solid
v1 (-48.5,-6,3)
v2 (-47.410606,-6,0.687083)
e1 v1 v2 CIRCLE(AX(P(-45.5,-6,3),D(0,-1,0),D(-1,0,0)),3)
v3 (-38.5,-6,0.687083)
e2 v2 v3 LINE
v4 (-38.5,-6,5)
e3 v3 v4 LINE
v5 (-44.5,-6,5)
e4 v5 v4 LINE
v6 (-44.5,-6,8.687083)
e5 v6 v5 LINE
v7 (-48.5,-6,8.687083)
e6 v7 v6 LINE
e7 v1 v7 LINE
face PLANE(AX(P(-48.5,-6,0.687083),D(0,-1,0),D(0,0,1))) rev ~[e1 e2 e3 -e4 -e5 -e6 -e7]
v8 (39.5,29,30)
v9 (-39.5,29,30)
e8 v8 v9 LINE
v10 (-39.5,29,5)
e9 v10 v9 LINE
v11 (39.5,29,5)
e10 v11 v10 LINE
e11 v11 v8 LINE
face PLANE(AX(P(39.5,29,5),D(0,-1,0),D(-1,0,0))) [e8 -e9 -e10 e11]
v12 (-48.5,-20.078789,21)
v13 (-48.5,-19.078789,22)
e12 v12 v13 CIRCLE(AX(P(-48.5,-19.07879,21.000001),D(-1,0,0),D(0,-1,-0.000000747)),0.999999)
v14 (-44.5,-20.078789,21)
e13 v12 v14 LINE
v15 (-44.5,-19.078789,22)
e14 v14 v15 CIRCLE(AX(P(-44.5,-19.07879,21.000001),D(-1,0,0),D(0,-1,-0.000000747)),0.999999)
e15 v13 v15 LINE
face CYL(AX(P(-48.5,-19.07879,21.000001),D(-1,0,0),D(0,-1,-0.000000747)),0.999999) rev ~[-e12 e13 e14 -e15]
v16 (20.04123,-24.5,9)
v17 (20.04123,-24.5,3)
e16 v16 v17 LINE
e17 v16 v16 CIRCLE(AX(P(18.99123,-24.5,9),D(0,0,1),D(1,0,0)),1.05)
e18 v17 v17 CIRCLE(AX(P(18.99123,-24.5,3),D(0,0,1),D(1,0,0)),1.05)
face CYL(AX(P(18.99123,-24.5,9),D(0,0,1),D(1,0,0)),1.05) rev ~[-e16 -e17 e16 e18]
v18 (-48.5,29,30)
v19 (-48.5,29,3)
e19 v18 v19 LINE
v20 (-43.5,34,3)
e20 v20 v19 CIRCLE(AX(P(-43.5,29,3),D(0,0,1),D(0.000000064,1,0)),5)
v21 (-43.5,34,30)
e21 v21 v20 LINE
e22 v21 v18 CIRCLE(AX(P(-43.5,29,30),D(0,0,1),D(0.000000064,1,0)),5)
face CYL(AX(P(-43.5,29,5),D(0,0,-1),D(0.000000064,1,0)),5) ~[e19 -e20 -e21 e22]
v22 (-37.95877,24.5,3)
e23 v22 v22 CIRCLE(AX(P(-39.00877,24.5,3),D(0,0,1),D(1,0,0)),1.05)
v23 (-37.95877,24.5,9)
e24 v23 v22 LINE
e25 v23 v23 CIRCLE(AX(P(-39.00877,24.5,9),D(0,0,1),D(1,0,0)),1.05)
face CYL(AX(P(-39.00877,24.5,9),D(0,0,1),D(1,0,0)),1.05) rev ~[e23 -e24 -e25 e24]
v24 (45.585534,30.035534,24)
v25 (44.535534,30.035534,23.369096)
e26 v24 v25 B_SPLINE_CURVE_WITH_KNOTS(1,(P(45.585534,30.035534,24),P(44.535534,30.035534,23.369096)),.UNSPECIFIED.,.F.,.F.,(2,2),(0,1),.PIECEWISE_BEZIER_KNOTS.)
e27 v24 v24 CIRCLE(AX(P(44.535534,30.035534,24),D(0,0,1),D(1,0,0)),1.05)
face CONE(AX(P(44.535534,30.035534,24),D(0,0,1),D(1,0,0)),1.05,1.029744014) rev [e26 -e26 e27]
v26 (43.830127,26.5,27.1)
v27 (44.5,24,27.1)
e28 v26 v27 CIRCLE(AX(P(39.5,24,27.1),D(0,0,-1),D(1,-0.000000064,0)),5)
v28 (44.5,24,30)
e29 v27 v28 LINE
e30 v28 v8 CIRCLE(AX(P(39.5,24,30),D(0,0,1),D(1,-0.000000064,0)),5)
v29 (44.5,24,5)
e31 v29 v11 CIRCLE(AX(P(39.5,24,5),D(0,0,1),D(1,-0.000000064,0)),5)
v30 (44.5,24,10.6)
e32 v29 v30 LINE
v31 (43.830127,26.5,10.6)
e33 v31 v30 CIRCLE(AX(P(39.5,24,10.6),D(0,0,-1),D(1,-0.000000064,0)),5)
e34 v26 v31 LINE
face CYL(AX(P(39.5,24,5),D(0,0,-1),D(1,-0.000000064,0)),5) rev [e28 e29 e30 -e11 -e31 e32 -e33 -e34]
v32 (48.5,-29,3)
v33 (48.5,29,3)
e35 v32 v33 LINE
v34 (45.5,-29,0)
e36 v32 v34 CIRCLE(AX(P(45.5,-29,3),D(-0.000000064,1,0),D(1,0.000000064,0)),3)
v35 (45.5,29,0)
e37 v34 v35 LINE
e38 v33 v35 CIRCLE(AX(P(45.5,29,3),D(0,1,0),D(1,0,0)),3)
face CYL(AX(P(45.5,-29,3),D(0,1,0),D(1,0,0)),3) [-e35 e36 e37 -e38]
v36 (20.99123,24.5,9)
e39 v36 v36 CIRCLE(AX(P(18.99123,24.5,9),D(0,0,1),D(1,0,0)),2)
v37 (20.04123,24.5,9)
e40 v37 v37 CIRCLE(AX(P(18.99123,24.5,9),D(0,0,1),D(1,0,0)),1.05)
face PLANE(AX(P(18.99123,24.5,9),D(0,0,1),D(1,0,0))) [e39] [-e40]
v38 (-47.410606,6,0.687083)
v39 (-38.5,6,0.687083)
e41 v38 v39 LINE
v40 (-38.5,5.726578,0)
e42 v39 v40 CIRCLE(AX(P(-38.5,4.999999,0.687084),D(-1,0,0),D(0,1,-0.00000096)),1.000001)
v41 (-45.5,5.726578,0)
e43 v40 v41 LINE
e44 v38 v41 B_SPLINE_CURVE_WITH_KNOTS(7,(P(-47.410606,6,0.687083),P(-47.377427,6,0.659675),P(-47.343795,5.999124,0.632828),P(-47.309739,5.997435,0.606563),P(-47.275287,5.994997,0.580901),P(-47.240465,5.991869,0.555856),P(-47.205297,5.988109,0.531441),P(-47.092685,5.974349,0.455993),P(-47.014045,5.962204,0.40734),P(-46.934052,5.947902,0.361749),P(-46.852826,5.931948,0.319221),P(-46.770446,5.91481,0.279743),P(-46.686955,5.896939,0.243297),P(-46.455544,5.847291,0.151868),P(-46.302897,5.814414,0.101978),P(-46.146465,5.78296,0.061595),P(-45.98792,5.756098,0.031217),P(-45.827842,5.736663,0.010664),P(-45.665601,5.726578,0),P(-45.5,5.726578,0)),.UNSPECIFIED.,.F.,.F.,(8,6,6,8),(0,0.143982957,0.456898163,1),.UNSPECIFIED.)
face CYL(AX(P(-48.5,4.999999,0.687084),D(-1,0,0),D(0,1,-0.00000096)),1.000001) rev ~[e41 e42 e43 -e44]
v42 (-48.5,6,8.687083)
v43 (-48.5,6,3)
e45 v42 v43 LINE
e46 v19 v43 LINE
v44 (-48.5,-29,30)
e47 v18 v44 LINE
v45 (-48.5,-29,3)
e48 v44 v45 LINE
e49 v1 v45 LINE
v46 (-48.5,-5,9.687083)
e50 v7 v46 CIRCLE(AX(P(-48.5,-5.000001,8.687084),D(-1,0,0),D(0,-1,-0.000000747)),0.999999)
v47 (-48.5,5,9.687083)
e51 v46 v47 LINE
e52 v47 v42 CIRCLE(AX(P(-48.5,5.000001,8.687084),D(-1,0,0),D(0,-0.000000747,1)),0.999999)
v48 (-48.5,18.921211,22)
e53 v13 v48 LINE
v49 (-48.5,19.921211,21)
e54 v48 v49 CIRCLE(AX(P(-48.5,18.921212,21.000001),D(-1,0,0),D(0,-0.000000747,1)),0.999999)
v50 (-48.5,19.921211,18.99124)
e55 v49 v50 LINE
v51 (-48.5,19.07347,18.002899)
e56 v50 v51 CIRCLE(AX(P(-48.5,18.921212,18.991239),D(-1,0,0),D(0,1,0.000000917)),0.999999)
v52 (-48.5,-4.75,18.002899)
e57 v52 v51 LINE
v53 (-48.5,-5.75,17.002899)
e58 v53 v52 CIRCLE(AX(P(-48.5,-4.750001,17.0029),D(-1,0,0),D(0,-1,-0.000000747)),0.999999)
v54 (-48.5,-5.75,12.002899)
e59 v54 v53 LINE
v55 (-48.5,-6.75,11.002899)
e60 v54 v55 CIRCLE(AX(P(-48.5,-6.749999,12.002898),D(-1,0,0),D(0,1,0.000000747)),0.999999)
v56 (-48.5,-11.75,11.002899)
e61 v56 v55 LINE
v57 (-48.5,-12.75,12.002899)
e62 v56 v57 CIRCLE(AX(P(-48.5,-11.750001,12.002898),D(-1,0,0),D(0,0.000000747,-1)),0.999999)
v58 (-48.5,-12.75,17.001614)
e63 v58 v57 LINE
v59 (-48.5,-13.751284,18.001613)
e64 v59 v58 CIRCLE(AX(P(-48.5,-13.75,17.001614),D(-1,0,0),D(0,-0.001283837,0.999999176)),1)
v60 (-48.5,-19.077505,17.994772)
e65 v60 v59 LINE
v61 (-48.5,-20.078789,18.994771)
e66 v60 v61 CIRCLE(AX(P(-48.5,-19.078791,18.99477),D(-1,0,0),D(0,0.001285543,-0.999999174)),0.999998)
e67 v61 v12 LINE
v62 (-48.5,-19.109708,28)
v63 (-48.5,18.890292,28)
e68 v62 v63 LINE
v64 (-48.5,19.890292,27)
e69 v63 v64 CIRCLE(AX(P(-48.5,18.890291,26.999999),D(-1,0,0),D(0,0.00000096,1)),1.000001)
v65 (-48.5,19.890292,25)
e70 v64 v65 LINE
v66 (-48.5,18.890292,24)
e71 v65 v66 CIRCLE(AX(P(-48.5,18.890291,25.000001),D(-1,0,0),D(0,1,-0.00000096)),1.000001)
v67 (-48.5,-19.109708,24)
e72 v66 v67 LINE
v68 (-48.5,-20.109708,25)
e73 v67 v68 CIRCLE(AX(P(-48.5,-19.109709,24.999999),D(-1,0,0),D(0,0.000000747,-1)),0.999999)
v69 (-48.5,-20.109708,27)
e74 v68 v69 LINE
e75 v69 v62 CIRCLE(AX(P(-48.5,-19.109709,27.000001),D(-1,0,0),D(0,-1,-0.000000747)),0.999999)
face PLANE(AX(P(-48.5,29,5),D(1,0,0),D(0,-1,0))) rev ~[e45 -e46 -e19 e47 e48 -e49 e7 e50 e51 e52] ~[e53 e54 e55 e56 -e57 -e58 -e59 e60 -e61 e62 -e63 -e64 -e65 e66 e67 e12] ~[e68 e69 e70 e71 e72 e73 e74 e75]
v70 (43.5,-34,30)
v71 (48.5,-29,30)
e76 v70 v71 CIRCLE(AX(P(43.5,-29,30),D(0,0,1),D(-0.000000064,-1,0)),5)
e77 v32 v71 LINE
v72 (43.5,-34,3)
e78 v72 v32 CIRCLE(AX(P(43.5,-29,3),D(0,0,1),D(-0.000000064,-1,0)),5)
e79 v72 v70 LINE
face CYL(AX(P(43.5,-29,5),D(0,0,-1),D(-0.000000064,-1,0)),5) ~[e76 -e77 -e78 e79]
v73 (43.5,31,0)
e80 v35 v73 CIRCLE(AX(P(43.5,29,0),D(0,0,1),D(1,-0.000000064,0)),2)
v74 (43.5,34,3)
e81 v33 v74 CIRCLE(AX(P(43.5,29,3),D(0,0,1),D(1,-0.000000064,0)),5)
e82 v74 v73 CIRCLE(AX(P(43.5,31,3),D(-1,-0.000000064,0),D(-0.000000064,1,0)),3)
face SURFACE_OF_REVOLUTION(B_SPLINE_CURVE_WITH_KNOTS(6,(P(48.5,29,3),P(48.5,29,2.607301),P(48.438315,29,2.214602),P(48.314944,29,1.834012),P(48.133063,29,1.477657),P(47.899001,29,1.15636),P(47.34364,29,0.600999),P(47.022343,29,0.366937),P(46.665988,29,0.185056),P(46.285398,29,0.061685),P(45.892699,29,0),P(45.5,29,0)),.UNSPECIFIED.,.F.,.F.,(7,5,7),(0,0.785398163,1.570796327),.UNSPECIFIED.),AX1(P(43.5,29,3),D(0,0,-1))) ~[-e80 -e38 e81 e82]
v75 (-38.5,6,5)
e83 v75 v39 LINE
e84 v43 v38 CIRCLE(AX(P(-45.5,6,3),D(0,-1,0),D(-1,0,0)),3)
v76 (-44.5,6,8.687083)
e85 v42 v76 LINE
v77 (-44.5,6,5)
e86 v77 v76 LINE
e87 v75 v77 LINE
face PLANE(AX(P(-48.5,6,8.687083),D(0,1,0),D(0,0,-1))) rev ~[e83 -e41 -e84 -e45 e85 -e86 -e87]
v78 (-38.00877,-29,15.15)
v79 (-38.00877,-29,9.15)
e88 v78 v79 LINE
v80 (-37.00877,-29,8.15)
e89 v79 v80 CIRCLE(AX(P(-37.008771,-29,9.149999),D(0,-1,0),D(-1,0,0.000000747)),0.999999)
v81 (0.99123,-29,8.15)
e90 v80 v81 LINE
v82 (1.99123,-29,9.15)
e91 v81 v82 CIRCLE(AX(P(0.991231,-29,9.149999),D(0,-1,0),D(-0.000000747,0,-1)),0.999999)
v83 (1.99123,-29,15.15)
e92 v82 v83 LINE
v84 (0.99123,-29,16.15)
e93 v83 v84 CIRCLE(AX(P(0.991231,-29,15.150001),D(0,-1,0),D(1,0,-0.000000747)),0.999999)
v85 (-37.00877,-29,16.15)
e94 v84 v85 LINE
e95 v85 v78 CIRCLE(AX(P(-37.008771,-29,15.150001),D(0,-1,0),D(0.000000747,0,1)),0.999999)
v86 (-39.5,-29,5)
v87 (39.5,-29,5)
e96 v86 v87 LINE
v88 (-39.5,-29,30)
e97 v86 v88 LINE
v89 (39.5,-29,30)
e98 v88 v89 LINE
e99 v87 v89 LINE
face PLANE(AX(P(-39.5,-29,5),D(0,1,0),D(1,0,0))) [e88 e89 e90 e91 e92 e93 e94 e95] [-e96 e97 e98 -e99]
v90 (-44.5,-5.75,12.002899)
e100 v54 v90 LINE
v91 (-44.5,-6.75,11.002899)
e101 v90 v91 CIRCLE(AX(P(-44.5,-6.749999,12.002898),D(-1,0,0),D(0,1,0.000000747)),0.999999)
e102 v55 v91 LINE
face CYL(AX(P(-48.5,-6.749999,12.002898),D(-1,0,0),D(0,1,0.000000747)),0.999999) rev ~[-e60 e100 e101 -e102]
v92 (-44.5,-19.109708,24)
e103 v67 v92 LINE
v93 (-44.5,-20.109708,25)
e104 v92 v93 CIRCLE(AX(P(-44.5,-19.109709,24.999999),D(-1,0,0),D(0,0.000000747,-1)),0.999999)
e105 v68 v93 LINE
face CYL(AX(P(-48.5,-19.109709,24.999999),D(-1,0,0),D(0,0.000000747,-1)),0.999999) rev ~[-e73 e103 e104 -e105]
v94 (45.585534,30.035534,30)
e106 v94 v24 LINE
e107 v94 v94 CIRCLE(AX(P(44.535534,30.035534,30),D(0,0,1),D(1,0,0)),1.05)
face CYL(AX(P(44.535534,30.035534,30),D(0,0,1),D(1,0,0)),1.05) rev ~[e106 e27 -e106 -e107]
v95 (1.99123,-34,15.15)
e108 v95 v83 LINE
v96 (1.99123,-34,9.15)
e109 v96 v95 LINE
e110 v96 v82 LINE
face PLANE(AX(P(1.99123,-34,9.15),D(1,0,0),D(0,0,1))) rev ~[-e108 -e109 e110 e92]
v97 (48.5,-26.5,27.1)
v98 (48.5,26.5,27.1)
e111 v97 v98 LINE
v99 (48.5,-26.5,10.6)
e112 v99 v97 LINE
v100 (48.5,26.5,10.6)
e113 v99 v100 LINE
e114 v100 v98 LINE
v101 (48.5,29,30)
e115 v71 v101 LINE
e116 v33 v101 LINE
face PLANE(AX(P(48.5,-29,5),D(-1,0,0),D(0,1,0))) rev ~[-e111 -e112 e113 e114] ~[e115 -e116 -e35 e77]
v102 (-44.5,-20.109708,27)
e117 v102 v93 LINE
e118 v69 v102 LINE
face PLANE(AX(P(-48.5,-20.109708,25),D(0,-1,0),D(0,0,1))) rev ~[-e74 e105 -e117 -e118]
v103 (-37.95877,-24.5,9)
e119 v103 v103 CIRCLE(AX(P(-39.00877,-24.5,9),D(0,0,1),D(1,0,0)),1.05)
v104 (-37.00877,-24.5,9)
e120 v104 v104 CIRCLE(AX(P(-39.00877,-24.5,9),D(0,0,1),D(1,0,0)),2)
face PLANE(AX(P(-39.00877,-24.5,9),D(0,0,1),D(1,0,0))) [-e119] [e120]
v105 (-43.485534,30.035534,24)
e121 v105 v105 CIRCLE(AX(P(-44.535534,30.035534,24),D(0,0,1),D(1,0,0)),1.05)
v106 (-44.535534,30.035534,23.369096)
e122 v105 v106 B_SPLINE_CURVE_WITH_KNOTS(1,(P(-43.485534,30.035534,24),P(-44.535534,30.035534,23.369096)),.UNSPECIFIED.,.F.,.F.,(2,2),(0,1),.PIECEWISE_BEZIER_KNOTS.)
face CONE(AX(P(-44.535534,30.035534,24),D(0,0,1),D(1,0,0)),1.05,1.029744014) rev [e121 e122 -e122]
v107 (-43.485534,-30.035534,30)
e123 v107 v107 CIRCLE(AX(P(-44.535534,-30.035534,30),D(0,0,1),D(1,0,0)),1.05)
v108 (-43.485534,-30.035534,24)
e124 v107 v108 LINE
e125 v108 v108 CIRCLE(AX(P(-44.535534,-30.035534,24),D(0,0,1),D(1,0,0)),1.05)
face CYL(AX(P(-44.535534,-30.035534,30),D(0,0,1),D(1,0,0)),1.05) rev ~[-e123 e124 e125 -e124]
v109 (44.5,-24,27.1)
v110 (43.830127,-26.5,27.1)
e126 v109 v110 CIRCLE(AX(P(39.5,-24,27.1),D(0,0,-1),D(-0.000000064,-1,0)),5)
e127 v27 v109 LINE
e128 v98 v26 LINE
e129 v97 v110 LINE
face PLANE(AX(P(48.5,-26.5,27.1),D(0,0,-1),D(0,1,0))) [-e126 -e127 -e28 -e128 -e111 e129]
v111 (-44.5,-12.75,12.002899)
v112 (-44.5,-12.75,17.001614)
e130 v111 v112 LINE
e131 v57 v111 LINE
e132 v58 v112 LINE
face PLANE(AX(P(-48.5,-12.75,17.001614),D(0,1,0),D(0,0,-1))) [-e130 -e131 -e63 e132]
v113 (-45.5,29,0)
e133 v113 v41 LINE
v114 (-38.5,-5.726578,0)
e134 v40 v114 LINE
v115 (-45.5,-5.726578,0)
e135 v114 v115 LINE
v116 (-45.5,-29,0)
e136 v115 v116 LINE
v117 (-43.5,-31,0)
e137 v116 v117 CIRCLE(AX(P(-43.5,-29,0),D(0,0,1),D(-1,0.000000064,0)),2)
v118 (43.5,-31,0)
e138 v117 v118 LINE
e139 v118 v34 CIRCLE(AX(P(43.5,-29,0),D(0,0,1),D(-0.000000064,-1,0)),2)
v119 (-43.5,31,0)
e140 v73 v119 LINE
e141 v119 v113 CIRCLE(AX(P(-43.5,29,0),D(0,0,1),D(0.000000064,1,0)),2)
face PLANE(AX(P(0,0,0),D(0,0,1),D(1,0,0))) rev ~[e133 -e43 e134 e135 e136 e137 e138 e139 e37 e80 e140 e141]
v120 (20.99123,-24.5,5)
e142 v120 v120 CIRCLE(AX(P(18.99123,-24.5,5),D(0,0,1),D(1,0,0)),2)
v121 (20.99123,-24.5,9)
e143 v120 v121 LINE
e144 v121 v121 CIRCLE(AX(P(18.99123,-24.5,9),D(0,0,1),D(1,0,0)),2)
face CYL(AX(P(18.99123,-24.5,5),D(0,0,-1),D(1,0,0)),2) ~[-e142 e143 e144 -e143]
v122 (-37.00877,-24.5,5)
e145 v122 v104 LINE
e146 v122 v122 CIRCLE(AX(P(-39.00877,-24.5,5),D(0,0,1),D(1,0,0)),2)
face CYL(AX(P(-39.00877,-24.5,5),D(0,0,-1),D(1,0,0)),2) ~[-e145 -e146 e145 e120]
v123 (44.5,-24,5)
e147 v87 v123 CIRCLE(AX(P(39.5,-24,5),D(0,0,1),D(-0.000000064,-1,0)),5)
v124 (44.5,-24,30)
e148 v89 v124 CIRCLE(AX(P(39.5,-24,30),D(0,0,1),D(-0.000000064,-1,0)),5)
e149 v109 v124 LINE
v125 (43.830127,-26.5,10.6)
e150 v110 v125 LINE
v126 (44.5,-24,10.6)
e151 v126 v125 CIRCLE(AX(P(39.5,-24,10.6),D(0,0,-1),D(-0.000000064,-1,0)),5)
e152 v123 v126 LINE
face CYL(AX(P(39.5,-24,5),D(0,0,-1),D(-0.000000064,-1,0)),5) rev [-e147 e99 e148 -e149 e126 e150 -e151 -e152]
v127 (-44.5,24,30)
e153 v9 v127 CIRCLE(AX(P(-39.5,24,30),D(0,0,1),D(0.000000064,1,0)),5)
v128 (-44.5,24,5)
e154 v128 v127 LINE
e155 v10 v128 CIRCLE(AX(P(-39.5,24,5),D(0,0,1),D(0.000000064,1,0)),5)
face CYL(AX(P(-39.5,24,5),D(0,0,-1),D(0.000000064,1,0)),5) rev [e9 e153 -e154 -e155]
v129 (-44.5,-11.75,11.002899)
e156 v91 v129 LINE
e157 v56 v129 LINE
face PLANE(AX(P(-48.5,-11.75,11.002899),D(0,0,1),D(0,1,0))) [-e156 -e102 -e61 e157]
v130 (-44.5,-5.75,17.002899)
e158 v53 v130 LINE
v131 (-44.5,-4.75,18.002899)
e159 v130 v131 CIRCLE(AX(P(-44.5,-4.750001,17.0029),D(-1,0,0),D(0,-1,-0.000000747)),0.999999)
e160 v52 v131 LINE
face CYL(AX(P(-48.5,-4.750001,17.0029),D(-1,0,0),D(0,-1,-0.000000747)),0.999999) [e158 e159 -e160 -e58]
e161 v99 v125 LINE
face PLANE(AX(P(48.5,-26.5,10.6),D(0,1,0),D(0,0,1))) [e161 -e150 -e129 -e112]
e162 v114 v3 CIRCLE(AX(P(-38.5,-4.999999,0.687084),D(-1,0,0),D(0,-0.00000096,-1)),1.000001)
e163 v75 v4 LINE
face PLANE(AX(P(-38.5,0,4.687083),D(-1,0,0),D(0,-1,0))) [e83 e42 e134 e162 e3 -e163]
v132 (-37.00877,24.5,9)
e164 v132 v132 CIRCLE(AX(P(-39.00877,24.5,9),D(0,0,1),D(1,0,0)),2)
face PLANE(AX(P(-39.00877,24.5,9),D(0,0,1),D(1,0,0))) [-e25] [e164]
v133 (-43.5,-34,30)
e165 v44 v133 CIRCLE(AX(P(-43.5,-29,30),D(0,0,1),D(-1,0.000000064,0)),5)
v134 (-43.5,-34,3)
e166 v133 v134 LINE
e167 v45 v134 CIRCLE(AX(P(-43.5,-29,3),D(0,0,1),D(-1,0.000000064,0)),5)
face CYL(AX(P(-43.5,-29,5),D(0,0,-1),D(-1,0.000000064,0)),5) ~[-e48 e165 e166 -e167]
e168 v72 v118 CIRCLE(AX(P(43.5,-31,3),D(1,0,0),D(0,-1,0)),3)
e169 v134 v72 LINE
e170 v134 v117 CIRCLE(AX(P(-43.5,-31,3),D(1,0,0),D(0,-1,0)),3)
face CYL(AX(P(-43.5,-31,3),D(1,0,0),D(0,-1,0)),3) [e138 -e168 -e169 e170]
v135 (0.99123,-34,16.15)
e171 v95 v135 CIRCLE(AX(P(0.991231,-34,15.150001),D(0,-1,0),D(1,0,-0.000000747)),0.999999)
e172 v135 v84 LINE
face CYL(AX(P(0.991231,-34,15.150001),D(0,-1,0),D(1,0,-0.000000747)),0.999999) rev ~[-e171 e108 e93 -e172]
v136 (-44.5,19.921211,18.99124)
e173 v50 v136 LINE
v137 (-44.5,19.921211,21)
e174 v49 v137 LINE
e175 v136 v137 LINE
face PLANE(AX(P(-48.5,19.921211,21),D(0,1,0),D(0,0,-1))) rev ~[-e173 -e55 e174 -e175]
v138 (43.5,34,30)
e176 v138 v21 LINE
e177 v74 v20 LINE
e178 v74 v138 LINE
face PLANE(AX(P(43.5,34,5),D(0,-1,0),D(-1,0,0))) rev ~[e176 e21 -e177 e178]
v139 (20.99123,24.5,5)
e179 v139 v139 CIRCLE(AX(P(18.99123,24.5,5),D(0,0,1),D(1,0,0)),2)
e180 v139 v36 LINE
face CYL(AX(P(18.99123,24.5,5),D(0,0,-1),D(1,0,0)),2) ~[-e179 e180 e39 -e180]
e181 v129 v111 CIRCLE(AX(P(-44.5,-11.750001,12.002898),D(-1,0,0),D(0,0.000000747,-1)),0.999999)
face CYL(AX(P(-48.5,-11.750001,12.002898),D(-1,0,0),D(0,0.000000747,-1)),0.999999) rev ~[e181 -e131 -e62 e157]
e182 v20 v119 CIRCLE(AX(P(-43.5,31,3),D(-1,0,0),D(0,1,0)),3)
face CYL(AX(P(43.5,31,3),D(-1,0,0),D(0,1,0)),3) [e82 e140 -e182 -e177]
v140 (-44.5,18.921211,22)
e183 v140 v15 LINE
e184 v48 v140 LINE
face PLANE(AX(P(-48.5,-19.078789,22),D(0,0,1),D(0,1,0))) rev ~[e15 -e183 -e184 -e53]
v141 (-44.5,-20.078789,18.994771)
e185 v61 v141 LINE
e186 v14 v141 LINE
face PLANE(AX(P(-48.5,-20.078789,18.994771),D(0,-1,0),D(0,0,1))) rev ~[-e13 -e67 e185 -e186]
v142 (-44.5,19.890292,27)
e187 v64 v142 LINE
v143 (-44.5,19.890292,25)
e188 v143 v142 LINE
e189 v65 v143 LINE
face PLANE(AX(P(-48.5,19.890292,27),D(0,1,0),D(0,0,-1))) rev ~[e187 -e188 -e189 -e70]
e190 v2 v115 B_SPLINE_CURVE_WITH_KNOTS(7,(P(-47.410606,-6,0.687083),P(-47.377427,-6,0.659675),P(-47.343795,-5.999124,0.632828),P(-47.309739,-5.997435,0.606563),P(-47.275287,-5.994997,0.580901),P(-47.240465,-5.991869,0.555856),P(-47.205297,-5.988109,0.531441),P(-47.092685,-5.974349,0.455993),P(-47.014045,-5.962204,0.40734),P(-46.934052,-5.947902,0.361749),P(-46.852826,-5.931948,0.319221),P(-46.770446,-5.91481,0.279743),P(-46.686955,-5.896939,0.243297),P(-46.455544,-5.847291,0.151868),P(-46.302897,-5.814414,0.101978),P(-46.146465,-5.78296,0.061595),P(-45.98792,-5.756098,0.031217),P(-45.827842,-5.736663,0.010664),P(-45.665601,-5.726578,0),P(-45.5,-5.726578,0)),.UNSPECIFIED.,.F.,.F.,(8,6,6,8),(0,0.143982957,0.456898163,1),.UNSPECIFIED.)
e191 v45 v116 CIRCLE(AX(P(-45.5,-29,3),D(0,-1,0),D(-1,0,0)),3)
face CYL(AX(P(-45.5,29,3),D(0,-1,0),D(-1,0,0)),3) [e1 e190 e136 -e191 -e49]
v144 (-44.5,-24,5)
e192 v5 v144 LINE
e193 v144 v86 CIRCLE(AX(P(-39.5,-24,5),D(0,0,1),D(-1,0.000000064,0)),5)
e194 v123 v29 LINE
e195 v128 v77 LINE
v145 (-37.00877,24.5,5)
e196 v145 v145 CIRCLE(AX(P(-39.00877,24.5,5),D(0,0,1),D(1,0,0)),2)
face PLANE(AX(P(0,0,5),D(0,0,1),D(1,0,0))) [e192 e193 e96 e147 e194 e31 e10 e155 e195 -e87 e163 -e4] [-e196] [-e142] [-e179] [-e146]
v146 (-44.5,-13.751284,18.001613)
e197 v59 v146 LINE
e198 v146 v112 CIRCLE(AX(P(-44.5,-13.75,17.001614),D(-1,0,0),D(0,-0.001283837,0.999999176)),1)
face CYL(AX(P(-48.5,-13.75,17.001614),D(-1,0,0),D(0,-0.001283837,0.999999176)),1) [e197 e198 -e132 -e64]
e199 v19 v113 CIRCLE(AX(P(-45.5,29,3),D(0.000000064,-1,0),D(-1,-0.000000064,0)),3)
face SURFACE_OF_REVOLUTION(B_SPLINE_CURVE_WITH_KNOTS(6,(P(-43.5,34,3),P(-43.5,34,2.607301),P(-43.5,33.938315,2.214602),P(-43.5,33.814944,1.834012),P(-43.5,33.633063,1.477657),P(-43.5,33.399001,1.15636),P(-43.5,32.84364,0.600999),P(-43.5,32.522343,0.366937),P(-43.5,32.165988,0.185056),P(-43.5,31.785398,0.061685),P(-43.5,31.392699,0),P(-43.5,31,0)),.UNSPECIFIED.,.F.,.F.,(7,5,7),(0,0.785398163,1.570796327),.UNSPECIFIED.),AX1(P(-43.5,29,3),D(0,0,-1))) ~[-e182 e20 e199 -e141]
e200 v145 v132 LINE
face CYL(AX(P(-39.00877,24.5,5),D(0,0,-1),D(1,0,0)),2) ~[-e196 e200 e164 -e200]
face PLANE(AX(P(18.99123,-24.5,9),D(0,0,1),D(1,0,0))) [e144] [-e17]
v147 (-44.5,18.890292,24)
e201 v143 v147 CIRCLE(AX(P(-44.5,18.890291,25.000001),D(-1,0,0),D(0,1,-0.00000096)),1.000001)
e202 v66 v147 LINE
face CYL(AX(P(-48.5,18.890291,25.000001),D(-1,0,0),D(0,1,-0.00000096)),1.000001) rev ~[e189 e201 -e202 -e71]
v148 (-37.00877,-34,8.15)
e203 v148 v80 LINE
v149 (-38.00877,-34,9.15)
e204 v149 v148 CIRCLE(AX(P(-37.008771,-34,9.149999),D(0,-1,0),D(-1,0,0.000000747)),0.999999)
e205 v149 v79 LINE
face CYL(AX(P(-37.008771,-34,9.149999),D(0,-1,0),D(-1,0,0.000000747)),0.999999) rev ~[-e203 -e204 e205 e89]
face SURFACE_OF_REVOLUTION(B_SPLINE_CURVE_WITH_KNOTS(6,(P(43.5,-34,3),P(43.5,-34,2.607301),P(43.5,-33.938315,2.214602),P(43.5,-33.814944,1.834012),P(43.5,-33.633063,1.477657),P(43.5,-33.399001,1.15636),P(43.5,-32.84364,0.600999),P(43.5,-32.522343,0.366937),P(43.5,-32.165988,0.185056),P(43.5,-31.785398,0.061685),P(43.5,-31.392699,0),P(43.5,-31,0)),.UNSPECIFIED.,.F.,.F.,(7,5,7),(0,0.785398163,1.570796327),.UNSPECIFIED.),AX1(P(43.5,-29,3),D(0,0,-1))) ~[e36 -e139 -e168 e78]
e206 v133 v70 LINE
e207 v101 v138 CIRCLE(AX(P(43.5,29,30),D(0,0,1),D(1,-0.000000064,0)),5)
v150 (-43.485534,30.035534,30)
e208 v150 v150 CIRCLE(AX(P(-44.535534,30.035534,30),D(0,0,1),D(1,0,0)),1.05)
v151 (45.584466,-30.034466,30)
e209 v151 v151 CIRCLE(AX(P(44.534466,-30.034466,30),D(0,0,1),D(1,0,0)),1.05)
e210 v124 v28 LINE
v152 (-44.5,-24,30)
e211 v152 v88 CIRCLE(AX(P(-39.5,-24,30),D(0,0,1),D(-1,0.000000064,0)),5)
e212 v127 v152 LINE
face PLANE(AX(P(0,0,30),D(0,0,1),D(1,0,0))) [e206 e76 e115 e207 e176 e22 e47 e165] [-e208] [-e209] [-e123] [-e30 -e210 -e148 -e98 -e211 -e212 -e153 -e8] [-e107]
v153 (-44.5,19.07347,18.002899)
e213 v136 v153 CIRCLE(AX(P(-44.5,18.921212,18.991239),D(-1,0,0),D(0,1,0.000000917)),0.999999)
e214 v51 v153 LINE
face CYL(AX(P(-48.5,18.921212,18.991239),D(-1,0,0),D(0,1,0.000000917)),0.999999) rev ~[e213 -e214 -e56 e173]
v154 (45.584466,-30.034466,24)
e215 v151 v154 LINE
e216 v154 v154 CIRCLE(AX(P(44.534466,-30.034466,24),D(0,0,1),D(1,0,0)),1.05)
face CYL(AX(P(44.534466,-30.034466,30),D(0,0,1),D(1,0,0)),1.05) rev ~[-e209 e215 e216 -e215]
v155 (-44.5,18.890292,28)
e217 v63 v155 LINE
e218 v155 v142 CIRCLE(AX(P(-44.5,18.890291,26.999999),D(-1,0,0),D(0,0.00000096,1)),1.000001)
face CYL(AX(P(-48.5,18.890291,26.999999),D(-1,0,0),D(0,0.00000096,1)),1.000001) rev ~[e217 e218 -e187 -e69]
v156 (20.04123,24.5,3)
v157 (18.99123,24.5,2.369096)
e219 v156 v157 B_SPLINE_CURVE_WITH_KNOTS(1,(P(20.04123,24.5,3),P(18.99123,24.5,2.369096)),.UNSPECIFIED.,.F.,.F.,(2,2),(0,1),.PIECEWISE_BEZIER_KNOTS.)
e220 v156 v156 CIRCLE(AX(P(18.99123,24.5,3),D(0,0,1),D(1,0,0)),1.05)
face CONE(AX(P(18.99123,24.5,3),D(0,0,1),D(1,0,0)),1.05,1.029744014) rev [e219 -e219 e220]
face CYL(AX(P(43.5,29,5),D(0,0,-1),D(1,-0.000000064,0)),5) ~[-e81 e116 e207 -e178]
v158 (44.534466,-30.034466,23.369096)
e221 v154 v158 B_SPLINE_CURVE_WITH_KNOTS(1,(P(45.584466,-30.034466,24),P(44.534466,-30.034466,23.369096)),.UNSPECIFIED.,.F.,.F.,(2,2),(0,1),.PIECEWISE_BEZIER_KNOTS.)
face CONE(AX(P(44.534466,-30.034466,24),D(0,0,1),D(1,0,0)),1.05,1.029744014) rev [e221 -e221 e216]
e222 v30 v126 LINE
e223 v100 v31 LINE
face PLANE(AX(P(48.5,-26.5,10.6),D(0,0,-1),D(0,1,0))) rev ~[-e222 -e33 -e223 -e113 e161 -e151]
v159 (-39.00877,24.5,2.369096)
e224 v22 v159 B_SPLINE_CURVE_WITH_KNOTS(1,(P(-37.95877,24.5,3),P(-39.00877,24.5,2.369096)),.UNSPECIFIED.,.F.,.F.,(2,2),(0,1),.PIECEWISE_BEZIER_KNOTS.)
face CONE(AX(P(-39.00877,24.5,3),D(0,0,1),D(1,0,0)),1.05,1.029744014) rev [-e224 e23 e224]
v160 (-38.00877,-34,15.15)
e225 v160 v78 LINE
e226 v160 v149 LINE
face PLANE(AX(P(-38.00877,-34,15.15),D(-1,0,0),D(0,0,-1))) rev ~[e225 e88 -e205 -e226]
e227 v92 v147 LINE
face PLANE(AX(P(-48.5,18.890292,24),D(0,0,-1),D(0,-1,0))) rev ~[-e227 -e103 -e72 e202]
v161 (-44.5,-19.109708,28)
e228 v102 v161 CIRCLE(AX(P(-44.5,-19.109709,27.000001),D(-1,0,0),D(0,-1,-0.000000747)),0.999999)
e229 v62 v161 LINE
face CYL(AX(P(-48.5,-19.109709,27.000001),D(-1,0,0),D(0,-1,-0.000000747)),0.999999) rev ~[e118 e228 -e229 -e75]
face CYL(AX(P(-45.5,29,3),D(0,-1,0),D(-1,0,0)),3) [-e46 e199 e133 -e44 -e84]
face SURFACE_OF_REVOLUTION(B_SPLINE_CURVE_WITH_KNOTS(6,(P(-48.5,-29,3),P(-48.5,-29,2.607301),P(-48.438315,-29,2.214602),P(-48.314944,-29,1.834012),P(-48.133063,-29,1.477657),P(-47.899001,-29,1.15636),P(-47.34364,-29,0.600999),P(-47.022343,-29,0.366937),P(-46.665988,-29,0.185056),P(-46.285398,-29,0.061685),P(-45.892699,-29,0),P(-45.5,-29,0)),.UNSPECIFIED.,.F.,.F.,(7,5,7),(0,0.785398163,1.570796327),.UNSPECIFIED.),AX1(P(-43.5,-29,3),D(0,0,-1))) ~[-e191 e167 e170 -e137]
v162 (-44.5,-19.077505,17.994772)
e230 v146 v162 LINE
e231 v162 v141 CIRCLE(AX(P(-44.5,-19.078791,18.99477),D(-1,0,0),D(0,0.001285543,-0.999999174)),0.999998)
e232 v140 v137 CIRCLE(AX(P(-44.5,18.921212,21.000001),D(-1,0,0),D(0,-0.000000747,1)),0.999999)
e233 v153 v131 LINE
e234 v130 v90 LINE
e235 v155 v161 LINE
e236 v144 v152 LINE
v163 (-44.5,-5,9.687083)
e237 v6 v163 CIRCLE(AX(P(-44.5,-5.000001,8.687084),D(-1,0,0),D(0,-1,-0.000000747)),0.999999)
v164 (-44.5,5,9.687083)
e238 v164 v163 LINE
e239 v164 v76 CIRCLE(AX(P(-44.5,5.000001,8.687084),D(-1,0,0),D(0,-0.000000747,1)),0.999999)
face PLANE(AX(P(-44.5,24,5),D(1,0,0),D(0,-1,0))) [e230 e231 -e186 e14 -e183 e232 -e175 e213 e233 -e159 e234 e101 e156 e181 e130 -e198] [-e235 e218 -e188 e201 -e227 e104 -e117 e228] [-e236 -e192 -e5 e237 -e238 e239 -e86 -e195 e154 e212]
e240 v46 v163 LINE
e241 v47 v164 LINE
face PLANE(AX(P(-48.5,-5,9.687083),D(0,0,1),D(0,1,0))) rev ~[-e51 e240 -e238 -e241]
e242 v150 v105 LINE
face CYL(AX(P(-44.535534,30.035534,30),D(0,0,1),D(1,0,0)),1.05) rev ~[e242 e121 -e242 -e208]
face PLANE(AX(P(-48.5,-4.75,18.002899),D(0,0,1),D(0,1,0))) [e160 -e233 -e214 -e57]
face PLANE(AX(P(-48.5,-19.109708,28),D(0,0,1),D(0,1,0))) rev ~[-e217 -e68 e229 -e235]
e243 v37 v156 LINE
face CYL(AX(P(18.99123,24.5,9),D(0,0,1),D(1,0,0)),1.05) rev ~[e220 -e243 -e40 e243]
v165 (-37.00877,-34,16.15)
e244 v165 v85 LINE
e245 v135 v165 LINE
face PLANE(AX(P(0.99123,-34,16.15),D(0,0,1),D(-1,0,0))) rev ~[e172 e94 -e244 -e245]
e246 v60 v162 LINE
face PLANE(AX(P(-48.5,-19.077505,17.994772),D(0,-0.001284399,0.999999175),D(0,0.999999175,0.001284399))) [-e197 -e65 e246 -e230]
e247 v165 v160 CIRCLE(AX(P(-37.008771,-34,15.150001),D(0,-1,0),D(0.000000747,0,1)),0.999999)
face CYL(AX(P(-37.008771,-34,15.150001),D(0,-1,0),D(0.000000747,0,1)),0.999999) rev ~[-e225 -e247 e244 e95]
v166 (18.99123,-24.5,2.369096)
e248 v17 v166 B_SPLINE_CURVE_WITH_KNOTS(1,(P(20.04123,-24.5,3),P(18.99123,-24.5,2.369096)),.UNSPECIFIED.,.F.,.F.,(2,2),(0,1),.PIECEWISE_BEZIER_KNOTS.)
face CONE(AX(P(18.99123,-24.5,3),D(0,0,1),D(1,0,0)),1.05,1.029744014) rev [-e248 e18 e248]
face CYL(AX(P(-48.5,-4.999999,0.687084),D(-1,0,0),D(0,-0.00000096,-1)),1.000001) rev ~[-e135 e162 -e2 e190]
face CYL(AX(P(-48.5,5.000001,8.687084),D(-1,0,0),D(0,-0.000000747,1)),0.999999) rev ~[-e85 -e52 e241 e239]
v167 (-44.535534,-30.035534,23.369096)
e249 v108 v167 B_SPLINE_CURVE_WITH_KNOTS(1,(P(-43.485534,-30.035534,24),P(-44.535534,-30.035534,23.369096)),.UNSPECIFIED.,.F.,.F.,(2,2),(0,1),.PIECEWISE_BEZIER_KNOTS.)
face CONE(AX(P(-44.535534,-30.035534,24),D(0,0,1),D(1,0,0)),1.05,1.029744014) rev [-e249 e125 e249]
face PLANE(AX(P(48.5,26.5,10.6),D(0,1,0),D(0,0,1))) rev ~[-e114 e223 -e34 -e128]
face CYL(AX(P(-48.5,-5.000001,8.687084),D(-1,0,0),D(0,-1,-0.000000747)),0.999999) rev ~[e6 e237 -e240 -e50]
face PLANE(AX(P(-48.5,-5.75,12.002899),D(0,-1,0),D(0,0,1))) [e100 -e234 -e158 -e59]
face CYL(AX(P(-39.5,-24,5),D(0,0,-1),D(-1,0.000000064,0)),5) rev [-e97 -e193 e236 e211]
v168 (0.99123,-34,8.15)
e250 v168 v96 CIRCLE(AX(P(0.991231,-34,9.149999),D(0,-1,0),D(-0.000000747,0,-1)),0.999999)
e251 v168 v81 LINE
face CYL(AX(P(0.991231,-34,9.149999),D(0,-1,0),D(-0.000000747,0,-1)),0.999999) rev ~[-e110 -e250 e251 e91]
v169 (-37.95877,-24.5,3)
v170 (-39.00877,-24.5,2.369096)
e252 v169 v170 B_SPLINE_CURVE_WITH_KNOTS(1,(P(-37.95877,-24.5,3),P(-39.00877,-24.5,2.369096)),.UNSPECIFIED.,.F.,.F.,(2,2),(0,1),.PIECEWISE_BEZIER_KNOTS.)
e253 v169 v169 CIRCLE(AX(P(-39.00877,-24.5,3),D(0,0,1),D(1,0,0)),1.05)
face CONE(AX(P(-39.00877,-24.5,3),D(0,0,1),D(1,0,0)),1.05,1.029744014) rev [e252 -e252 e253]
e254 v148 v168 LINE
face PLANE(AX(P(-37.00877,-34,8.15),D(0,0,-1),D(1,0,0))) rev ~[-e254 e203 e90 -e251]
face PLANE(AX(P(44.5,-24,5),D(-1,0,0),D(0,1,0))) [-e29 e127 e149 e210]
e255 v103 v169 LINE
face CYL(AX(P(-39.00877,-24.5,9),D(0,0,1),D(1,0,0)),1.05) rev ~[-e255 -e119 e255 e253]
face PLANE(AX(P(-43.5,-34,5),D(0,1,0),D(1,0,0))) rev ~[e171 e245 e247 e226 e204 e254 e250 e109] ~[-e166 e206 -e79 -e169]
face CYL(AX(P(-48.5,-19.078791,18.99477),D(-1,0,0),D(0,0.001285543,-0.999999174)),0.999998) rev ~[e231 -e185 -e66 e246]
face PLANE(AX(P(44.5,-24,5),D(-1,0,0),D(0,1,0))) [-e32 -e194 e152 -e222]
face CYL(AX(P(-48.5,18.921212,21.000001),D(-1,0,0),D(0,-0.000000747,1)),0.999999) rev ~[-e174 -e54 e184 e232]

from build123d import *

# Parameters (mm, degrees)
PAD_DEPTH       = 5
FILLET_R        = 3
PAD001_DEPTH    = 25
SKETCH003_W     = 53
SKETCH003_H     = 16.5
POCKET_DEPTH    = 5
SKETCH001_R     = 2
PAD002_DEPTH    = 4
SKETCH004_R     = 1.05
HOLE_DEPTH      = 6
HOLE_TIPS_R     = 1.05
POCKET001_DEPTH = 10
POCKET002_DEPTH = 5
POCKET003_DEPTH = 5
SKETCH005_R     = 1.05
HOLE001_DEPTH   = 6
HOLE001_TIPS_R  = 1.05


with BuildPart() as part:
    # Sketch → Pad (new body)
    with BuildSketch(Plane.XY):
        with BuildLine():
            Line((-43.5, -34), (43.5, -34))
            ThreePointArc((43.5, -34), (47.035534, -32.535534), (48.5, -29))
            Line((48.5, -29), (48.5, 29))
            ThreePointArc((48.5, 29), (47.035534, 32.535534), (43.5, 34))
            Line((43.5, 34), (-43.5, 34))
            ThreePointArc((-43.5, 34), (-47.035534, 32.535534), (-48.5, 29))
            Line((-48.5, 29), (-48.5, -29))
            ThreePointArc((-48.5, -29), (-47.035534, -32.535534), (-43.5, -34))
        make_face()
    extrude(amount=PAD_DEPTH)

    # Fillet
    fillet_edges = [part.edges().sort_by_distance(p)[0] for p in [
        (0, -34, 0),
        (47.035534, -32.535534, 0),
        (48.5, 0, 0),
        (47.035534, 32.535534, 0),
        (0, 34, 0),
        (-47.035534, 32.535534, 0),
        (-48.5, 0, 0),
        (-47.035534, -32.535534, 0),
    ]]
    fillet(fillet_edges, radius=FILLET_R)

    # Sketch002 (on Face4 of Fillet) → Pad001 (join)
    with BuildSketch(Plane.XY.offset(5)):
        with BuildLine():
            Line((-43.5, -34), (43.5, -34))
            ThreePointArc((43.5, -34), (47.035534, -32.535534), (48.5, -29))
            Line((48.5, -29), (48.5, 29))
            ThreePointArc((48.5, 29), (47.035534, 32.535534), (43.5, 34))
            Line((43.5, 34), (-43.5, 34))
            ThreePointArc((-43.5, 34), (-47.035534, 32.535534), (-48.5, 29))
            Line((-48.5, 29), (-48.5, -29))
            ThreePointArc((-48.5, -29), (-47.035534, -32.535534), (-43.5, -34))
        make_face()
        with BuildLine():
            Line((-39.5, -29), (39.5, -29))
            ThreePointArc((39.5, -29), (43.035534, -27.535534), (44.5, -24))
            Line((44.5, -24), (44.5, 24))
            ThreePointArc((44.5, 24), (43.035534, 27.535534), (39.5, 29))
            Line((39.5, 29), (-39.5, 29))
            ThreePointArc((-39.5, 29), (-43.035534, 27.535534), (-44.5, 24))
            Line((-44.5, 24), (-44.5, -24))
            ThreePointArc((-44.5, -24), (-43.035534, -27.535534), (-39.5, -29))
        make_face(mode=Mode.SUBTRACT)
    extrude(amount=PAD001_DEPTH)

    # Sketch003 (on Face22 of Pad001) → Pocket (cut)
    with BuildSketch(Plane.YZ.offset(48.5)):
        with Locations((0, 18.85)):
            Rectangle(SKETCH003_W, SKETCH003_H)
    extrude(amount=-POCKET_DEPTH, mode=Mode.SUBTRACT)

    # Sketch001 (on Face4 of Fillet) → Pad002 (join)
    with BuildSketch(Plane.XY.offset(5)):
        with Locations((18.99123, 24.5)):
            Circle(SKETCH001_R)
        with Locations((18.99123, -24.5)):
            Circle(SKETCH001_R)
        with Locations((-39.00877, -24.5)):
            Circle(SKETCH001_R)
        with Locations((-39.00877, 24.5)):
            Circle(SKETCH001_R)
    extrude(amount=PAD002_DEPTH)

    # Sketch004 (on Face39 of Pad002) → Hole (cut)
    with BuildSketch(Plane.XY.offset(9)):
        with Locations((-39.00877, 24.5)):
            Circle(SKETCH004_R)
        with Locations((18.99123, 24.5)):
            Circle(SKETCH004_R)
        with Locations((18.99123, -24.5)):
            Circle(SKETCH004_R)
        with Locations((-39.00877, -24.5)):
            Circle(SKETCH004_R)
    extrude(amount=-HOLE_DEPTH, mode=Mode.SUBTRACT)

    # Hole tips → Hole tip 1 section 0
    with BuildSketch(Plane.XY.offset(3), mode=Mode.PRIVATE) as hole_tip_1_s0:
        with Locations((-39.00877, 24.5)):
            Circle(HOLE_TIPS_R)
    loft([hole_tip_1_s0.sketch, Vertex(-39.00877, 24.5, 2.369096)], mode=Mode.SUBTRACT)

    # Hole tips → Hole tip 2 section 0
    with BuildSketch(Plane.XY.offset(3), mode=Mode.PRIVATE) as hole_tip_2_s0:
        with Locations((18.99123, 24.5)):
            Circle(HOLE_TIPS_R)
    loft([hole_tip_2_s0.sketch, Vertex(18.99123, 24.5, 2.369096)], mode=Mode.SUBTRACT)

    # Hole tips → Hole tip 3 section 0
    with BuildSketch(Plane.XY.offset(3), mode=Mode.PRIVATE) as hole_tip_3_s0:
        with Locations((18.99123, -24.5)):
            Circle(HOLE_TIPS_R)
    loft([hole_tip_3_s0.sketch, Vertex(18.99123, -24.5, 2.369096)], mode=Mode.SUBTRACT)

    # Hole tips → Hole tip 4 section 0
    with BuildSketch(Plane.XY.offset(3), mode=Mode.PRIVATE) as hole_tip_4_s0:
        with Locations((-39.00877, -24.5)):
            Circle(HOLE_TIPS_R)
    loft([hole_tip_4_s0.sketch, Vertex(-39.00877, -24.5, 2.369096)], mode=Mode.SUBTRACT)

    # Sketch006 (on Face14 of Hole) → Pocket001 (cut)
    with BuildSketch(Plane(origin=(-48.5, 0, 0), x_dir=(0, -1, 0), z_dir=(-1, 0, 0))):
        with BuildLine():
            Line((-5, -0.312917), (5, -0.312917))
            ThreePointArc((5, -0.312917), (5.707107, -0.020023), (6, 0.687083))
            Line((6, 0.687083), (6, 8.687083))
            ThreePointArc((6, 8.687083), (5.707107, 9.39419), (5, 9.687083))
            Line((5, 9.687083), (-5, 9.687083))
            ThreePointArc((-5, 9.687083), (-5.707107, 9.39419), (-6, 8.687083))
            Line((-6, 8.687083), (-6, 0.687083))
            ThreePointArc((-6, 0.687083), (-5.707107, -0.020023), (-5, -0.312917))
        make_face()
    extrude(amount=-POCKET001_DEPTH, mode=Mode.SUBTRACT)

    # Sketch007 (on Face18 of Pocket001) → Pocket002 (cut)
    with BuildSketch(Plane(origin=(-48.5, 0, 0), x_dir=(0, -1, 0), z_dir=(-1, 0, 0))):
        with BuildLine():
            Line((20.078789, 18.994771), (20.078789, 21))
            ThreePointArc((20.078789, 21), (19.785896, 21.707107), (19.078789, 22))
            Line((19.078789, 22), (-18.921211, 22))
            ThreePointArc((-18.921211, 22), (-19.628318, 21.707107), (-19.921211, 21))
            Line((-19.921211, 21), (-19.921211, 18.99124))
            ThreePointArc((-19.921211, 18.99124), (-19.680243, 18.340186), (-19.07347, 18.002899))
            Line((4.75, 18.002899), (-19.07347, 18.002899))
            ThreePointArc((5.75, 17.002899), (5.457107, 17.710006), (4.75, 18.002899))
            Line((5.75, 12.002899), (5.75, 17.002899))
            ThreePointArc((5.75, 12.002899), (6.042893, 11.295792), (6.75, 11.002899))
            Line((11.75, 11.002899), (6.75, 11.002899))
            ThreePointArc((11.75, 11.002899), (12.457107, 11.295792), (12.75, 12.002899))
            Line((12.75, 17.001614), (12.75, 12.002899))
            ThreePointArc((13.751284, 18.001613), (13.043347, 17.709174), (12.75, 17.001614))
            Line((19.077505, 17.994772), (13.751284, 18.001613))
            ThreePointArc((19.077505, 17.994772), (19.785442, 18.28721), (20.078789, 18.994771))
        make_face()
        with BuildLine():
            Line((-18.890292, 24), (19.109708, 24))
            ThreePointArc((19.109708, 24), (19.816815, 24.292893), (20.109708, 25))
            Line((20.109708, 25), (20.109708, 27))
            ThreePointArc((20.109708, 27), (19.816815, 27.707107), (19.109708, 28))
            Line((19.109708, 28), (-18.890292, 28))
            ThreePointArc((-18.890292, 28), (-19.597398, 27.707107), (-19.890292, 27))
            Line((-19.890292, 27), (-19.890292, 25))
            ThreePointArc((-19.890292, 25), (-19.597398, 24.292893), (-18.890292, 24))
        make_face()
    extrude(amount=-POCKET002_DEPTH, mode=Mode.SUBTRACT)

    # Sketch009 (on Face3 of Pocket002) → Pocket003 (cut)
    with BuildSketch(Plane.XZ.offset(34)):
        with BuildLine():
            Line((-37.00877, 8.15), (0.99123, 8.15))
            ThreePointArc((0.99123, 8.15), (1.698337, 8.442893), (1.99123, 9.15))
            Line((1.99123, 9.15), (1.99123, 15.15))
            ThreePointArc((1.99123, 15.15), (1.698337, 15.857107), (0.99123, 16.15))
            Line((0.99123, 16.15), (-37.00877, 16.15))
            ThreePointArc((-37.00877, 16.15), (-37.715877, 15.857107), (-38.00877, 15.15))
            Line((-38.00877, 15.15), (-38.00877, 9.15))
            ThreePointArc((-38.00877, 9.15), (-37.715877, 8.442893), (-37.00877, 8.15))
        make_face()
    extrude(amount=-POCKET003_DEPTH, mode=Mode.SUBTRACT)

    # Sketch005 (on Face9 of Hole) → Hole001 (cut)
    with BuildSketch(Plane.XY.offset(30)):
        with Locations((-44.535534, -30.035534)):
            Circle(SKETCH005_R)
        with Locations((44.534466, -30.034466)):
            Circle(SKETCH005_R)
        with Locations((44.535534, 30.035534)):
            Circle(SKETCH005_R)
        with Locations((-44.535534, 30.035534)):
            Circle(SKETCH005_R)
    extrude(amount=-HOLE001_DEPTH, mode=Mode.SUBTRACT)

    # Hole001 tips → Hole001 tip 1 section 0
    with BuildSketch(Plane.XY.offset(24), mode=Mode.PRIVATE) as hole001_tip_1_s0:
        with Locations((-44.535534, -30.035534)):
            Circle(HOLE001_TIPS_R)
    loft([hole001_tip_1_s0.sketch, Vertex(-44.535534, -30.035534, 23.369096)], mode=Mode.SUBTRACT)

    # Hole001 tips → Hole001 tip 2 section 0
    with BuildSketch(Plane.XY.offset(24), mode=Mode.PRIVATE) as hole001_tip_2_s0:
        with Locations((44.534466, -30.034466)):
            Circle(HOLE001_TIPS_R)
    loft([hole001_tip_2_s0.sketch, Vertex(44.534466, -30.034466, 23.369096)], mode=Mode.SUBTRACT)

    # Hole001 tips → Hole001 tip 3 section 0
    with BuildSketch(Plane.XY.offset(24), mode=Mode.PRIVATE) as hole001_tip_3_s0:
        with Locations((44.535534, 30.035534)):
            Circle(HOLE001_TIPS_R)
    loft([hole001_tip_3_s0.sketch, Vertex(44.535534, 30.035534, 23.369096)], mode=Mode.SUBTRACT)

    # Hole001 tips → Hole001 tip 4 section 0
    with BuildSketch(Plane.XY.offset(24), mode=Mode.PRIVATE) as hole001_tip_4_s0:
        with Locations((-44.535534, 30.035534)):
            Circle(HOLE001_TIPS_R)
    loft([hole001_tip_4_s0.sketch, Vertex(-44.535534, 30.035534, 23.369096)], mode=Mode.SUBTRACT)


solid = part.part
